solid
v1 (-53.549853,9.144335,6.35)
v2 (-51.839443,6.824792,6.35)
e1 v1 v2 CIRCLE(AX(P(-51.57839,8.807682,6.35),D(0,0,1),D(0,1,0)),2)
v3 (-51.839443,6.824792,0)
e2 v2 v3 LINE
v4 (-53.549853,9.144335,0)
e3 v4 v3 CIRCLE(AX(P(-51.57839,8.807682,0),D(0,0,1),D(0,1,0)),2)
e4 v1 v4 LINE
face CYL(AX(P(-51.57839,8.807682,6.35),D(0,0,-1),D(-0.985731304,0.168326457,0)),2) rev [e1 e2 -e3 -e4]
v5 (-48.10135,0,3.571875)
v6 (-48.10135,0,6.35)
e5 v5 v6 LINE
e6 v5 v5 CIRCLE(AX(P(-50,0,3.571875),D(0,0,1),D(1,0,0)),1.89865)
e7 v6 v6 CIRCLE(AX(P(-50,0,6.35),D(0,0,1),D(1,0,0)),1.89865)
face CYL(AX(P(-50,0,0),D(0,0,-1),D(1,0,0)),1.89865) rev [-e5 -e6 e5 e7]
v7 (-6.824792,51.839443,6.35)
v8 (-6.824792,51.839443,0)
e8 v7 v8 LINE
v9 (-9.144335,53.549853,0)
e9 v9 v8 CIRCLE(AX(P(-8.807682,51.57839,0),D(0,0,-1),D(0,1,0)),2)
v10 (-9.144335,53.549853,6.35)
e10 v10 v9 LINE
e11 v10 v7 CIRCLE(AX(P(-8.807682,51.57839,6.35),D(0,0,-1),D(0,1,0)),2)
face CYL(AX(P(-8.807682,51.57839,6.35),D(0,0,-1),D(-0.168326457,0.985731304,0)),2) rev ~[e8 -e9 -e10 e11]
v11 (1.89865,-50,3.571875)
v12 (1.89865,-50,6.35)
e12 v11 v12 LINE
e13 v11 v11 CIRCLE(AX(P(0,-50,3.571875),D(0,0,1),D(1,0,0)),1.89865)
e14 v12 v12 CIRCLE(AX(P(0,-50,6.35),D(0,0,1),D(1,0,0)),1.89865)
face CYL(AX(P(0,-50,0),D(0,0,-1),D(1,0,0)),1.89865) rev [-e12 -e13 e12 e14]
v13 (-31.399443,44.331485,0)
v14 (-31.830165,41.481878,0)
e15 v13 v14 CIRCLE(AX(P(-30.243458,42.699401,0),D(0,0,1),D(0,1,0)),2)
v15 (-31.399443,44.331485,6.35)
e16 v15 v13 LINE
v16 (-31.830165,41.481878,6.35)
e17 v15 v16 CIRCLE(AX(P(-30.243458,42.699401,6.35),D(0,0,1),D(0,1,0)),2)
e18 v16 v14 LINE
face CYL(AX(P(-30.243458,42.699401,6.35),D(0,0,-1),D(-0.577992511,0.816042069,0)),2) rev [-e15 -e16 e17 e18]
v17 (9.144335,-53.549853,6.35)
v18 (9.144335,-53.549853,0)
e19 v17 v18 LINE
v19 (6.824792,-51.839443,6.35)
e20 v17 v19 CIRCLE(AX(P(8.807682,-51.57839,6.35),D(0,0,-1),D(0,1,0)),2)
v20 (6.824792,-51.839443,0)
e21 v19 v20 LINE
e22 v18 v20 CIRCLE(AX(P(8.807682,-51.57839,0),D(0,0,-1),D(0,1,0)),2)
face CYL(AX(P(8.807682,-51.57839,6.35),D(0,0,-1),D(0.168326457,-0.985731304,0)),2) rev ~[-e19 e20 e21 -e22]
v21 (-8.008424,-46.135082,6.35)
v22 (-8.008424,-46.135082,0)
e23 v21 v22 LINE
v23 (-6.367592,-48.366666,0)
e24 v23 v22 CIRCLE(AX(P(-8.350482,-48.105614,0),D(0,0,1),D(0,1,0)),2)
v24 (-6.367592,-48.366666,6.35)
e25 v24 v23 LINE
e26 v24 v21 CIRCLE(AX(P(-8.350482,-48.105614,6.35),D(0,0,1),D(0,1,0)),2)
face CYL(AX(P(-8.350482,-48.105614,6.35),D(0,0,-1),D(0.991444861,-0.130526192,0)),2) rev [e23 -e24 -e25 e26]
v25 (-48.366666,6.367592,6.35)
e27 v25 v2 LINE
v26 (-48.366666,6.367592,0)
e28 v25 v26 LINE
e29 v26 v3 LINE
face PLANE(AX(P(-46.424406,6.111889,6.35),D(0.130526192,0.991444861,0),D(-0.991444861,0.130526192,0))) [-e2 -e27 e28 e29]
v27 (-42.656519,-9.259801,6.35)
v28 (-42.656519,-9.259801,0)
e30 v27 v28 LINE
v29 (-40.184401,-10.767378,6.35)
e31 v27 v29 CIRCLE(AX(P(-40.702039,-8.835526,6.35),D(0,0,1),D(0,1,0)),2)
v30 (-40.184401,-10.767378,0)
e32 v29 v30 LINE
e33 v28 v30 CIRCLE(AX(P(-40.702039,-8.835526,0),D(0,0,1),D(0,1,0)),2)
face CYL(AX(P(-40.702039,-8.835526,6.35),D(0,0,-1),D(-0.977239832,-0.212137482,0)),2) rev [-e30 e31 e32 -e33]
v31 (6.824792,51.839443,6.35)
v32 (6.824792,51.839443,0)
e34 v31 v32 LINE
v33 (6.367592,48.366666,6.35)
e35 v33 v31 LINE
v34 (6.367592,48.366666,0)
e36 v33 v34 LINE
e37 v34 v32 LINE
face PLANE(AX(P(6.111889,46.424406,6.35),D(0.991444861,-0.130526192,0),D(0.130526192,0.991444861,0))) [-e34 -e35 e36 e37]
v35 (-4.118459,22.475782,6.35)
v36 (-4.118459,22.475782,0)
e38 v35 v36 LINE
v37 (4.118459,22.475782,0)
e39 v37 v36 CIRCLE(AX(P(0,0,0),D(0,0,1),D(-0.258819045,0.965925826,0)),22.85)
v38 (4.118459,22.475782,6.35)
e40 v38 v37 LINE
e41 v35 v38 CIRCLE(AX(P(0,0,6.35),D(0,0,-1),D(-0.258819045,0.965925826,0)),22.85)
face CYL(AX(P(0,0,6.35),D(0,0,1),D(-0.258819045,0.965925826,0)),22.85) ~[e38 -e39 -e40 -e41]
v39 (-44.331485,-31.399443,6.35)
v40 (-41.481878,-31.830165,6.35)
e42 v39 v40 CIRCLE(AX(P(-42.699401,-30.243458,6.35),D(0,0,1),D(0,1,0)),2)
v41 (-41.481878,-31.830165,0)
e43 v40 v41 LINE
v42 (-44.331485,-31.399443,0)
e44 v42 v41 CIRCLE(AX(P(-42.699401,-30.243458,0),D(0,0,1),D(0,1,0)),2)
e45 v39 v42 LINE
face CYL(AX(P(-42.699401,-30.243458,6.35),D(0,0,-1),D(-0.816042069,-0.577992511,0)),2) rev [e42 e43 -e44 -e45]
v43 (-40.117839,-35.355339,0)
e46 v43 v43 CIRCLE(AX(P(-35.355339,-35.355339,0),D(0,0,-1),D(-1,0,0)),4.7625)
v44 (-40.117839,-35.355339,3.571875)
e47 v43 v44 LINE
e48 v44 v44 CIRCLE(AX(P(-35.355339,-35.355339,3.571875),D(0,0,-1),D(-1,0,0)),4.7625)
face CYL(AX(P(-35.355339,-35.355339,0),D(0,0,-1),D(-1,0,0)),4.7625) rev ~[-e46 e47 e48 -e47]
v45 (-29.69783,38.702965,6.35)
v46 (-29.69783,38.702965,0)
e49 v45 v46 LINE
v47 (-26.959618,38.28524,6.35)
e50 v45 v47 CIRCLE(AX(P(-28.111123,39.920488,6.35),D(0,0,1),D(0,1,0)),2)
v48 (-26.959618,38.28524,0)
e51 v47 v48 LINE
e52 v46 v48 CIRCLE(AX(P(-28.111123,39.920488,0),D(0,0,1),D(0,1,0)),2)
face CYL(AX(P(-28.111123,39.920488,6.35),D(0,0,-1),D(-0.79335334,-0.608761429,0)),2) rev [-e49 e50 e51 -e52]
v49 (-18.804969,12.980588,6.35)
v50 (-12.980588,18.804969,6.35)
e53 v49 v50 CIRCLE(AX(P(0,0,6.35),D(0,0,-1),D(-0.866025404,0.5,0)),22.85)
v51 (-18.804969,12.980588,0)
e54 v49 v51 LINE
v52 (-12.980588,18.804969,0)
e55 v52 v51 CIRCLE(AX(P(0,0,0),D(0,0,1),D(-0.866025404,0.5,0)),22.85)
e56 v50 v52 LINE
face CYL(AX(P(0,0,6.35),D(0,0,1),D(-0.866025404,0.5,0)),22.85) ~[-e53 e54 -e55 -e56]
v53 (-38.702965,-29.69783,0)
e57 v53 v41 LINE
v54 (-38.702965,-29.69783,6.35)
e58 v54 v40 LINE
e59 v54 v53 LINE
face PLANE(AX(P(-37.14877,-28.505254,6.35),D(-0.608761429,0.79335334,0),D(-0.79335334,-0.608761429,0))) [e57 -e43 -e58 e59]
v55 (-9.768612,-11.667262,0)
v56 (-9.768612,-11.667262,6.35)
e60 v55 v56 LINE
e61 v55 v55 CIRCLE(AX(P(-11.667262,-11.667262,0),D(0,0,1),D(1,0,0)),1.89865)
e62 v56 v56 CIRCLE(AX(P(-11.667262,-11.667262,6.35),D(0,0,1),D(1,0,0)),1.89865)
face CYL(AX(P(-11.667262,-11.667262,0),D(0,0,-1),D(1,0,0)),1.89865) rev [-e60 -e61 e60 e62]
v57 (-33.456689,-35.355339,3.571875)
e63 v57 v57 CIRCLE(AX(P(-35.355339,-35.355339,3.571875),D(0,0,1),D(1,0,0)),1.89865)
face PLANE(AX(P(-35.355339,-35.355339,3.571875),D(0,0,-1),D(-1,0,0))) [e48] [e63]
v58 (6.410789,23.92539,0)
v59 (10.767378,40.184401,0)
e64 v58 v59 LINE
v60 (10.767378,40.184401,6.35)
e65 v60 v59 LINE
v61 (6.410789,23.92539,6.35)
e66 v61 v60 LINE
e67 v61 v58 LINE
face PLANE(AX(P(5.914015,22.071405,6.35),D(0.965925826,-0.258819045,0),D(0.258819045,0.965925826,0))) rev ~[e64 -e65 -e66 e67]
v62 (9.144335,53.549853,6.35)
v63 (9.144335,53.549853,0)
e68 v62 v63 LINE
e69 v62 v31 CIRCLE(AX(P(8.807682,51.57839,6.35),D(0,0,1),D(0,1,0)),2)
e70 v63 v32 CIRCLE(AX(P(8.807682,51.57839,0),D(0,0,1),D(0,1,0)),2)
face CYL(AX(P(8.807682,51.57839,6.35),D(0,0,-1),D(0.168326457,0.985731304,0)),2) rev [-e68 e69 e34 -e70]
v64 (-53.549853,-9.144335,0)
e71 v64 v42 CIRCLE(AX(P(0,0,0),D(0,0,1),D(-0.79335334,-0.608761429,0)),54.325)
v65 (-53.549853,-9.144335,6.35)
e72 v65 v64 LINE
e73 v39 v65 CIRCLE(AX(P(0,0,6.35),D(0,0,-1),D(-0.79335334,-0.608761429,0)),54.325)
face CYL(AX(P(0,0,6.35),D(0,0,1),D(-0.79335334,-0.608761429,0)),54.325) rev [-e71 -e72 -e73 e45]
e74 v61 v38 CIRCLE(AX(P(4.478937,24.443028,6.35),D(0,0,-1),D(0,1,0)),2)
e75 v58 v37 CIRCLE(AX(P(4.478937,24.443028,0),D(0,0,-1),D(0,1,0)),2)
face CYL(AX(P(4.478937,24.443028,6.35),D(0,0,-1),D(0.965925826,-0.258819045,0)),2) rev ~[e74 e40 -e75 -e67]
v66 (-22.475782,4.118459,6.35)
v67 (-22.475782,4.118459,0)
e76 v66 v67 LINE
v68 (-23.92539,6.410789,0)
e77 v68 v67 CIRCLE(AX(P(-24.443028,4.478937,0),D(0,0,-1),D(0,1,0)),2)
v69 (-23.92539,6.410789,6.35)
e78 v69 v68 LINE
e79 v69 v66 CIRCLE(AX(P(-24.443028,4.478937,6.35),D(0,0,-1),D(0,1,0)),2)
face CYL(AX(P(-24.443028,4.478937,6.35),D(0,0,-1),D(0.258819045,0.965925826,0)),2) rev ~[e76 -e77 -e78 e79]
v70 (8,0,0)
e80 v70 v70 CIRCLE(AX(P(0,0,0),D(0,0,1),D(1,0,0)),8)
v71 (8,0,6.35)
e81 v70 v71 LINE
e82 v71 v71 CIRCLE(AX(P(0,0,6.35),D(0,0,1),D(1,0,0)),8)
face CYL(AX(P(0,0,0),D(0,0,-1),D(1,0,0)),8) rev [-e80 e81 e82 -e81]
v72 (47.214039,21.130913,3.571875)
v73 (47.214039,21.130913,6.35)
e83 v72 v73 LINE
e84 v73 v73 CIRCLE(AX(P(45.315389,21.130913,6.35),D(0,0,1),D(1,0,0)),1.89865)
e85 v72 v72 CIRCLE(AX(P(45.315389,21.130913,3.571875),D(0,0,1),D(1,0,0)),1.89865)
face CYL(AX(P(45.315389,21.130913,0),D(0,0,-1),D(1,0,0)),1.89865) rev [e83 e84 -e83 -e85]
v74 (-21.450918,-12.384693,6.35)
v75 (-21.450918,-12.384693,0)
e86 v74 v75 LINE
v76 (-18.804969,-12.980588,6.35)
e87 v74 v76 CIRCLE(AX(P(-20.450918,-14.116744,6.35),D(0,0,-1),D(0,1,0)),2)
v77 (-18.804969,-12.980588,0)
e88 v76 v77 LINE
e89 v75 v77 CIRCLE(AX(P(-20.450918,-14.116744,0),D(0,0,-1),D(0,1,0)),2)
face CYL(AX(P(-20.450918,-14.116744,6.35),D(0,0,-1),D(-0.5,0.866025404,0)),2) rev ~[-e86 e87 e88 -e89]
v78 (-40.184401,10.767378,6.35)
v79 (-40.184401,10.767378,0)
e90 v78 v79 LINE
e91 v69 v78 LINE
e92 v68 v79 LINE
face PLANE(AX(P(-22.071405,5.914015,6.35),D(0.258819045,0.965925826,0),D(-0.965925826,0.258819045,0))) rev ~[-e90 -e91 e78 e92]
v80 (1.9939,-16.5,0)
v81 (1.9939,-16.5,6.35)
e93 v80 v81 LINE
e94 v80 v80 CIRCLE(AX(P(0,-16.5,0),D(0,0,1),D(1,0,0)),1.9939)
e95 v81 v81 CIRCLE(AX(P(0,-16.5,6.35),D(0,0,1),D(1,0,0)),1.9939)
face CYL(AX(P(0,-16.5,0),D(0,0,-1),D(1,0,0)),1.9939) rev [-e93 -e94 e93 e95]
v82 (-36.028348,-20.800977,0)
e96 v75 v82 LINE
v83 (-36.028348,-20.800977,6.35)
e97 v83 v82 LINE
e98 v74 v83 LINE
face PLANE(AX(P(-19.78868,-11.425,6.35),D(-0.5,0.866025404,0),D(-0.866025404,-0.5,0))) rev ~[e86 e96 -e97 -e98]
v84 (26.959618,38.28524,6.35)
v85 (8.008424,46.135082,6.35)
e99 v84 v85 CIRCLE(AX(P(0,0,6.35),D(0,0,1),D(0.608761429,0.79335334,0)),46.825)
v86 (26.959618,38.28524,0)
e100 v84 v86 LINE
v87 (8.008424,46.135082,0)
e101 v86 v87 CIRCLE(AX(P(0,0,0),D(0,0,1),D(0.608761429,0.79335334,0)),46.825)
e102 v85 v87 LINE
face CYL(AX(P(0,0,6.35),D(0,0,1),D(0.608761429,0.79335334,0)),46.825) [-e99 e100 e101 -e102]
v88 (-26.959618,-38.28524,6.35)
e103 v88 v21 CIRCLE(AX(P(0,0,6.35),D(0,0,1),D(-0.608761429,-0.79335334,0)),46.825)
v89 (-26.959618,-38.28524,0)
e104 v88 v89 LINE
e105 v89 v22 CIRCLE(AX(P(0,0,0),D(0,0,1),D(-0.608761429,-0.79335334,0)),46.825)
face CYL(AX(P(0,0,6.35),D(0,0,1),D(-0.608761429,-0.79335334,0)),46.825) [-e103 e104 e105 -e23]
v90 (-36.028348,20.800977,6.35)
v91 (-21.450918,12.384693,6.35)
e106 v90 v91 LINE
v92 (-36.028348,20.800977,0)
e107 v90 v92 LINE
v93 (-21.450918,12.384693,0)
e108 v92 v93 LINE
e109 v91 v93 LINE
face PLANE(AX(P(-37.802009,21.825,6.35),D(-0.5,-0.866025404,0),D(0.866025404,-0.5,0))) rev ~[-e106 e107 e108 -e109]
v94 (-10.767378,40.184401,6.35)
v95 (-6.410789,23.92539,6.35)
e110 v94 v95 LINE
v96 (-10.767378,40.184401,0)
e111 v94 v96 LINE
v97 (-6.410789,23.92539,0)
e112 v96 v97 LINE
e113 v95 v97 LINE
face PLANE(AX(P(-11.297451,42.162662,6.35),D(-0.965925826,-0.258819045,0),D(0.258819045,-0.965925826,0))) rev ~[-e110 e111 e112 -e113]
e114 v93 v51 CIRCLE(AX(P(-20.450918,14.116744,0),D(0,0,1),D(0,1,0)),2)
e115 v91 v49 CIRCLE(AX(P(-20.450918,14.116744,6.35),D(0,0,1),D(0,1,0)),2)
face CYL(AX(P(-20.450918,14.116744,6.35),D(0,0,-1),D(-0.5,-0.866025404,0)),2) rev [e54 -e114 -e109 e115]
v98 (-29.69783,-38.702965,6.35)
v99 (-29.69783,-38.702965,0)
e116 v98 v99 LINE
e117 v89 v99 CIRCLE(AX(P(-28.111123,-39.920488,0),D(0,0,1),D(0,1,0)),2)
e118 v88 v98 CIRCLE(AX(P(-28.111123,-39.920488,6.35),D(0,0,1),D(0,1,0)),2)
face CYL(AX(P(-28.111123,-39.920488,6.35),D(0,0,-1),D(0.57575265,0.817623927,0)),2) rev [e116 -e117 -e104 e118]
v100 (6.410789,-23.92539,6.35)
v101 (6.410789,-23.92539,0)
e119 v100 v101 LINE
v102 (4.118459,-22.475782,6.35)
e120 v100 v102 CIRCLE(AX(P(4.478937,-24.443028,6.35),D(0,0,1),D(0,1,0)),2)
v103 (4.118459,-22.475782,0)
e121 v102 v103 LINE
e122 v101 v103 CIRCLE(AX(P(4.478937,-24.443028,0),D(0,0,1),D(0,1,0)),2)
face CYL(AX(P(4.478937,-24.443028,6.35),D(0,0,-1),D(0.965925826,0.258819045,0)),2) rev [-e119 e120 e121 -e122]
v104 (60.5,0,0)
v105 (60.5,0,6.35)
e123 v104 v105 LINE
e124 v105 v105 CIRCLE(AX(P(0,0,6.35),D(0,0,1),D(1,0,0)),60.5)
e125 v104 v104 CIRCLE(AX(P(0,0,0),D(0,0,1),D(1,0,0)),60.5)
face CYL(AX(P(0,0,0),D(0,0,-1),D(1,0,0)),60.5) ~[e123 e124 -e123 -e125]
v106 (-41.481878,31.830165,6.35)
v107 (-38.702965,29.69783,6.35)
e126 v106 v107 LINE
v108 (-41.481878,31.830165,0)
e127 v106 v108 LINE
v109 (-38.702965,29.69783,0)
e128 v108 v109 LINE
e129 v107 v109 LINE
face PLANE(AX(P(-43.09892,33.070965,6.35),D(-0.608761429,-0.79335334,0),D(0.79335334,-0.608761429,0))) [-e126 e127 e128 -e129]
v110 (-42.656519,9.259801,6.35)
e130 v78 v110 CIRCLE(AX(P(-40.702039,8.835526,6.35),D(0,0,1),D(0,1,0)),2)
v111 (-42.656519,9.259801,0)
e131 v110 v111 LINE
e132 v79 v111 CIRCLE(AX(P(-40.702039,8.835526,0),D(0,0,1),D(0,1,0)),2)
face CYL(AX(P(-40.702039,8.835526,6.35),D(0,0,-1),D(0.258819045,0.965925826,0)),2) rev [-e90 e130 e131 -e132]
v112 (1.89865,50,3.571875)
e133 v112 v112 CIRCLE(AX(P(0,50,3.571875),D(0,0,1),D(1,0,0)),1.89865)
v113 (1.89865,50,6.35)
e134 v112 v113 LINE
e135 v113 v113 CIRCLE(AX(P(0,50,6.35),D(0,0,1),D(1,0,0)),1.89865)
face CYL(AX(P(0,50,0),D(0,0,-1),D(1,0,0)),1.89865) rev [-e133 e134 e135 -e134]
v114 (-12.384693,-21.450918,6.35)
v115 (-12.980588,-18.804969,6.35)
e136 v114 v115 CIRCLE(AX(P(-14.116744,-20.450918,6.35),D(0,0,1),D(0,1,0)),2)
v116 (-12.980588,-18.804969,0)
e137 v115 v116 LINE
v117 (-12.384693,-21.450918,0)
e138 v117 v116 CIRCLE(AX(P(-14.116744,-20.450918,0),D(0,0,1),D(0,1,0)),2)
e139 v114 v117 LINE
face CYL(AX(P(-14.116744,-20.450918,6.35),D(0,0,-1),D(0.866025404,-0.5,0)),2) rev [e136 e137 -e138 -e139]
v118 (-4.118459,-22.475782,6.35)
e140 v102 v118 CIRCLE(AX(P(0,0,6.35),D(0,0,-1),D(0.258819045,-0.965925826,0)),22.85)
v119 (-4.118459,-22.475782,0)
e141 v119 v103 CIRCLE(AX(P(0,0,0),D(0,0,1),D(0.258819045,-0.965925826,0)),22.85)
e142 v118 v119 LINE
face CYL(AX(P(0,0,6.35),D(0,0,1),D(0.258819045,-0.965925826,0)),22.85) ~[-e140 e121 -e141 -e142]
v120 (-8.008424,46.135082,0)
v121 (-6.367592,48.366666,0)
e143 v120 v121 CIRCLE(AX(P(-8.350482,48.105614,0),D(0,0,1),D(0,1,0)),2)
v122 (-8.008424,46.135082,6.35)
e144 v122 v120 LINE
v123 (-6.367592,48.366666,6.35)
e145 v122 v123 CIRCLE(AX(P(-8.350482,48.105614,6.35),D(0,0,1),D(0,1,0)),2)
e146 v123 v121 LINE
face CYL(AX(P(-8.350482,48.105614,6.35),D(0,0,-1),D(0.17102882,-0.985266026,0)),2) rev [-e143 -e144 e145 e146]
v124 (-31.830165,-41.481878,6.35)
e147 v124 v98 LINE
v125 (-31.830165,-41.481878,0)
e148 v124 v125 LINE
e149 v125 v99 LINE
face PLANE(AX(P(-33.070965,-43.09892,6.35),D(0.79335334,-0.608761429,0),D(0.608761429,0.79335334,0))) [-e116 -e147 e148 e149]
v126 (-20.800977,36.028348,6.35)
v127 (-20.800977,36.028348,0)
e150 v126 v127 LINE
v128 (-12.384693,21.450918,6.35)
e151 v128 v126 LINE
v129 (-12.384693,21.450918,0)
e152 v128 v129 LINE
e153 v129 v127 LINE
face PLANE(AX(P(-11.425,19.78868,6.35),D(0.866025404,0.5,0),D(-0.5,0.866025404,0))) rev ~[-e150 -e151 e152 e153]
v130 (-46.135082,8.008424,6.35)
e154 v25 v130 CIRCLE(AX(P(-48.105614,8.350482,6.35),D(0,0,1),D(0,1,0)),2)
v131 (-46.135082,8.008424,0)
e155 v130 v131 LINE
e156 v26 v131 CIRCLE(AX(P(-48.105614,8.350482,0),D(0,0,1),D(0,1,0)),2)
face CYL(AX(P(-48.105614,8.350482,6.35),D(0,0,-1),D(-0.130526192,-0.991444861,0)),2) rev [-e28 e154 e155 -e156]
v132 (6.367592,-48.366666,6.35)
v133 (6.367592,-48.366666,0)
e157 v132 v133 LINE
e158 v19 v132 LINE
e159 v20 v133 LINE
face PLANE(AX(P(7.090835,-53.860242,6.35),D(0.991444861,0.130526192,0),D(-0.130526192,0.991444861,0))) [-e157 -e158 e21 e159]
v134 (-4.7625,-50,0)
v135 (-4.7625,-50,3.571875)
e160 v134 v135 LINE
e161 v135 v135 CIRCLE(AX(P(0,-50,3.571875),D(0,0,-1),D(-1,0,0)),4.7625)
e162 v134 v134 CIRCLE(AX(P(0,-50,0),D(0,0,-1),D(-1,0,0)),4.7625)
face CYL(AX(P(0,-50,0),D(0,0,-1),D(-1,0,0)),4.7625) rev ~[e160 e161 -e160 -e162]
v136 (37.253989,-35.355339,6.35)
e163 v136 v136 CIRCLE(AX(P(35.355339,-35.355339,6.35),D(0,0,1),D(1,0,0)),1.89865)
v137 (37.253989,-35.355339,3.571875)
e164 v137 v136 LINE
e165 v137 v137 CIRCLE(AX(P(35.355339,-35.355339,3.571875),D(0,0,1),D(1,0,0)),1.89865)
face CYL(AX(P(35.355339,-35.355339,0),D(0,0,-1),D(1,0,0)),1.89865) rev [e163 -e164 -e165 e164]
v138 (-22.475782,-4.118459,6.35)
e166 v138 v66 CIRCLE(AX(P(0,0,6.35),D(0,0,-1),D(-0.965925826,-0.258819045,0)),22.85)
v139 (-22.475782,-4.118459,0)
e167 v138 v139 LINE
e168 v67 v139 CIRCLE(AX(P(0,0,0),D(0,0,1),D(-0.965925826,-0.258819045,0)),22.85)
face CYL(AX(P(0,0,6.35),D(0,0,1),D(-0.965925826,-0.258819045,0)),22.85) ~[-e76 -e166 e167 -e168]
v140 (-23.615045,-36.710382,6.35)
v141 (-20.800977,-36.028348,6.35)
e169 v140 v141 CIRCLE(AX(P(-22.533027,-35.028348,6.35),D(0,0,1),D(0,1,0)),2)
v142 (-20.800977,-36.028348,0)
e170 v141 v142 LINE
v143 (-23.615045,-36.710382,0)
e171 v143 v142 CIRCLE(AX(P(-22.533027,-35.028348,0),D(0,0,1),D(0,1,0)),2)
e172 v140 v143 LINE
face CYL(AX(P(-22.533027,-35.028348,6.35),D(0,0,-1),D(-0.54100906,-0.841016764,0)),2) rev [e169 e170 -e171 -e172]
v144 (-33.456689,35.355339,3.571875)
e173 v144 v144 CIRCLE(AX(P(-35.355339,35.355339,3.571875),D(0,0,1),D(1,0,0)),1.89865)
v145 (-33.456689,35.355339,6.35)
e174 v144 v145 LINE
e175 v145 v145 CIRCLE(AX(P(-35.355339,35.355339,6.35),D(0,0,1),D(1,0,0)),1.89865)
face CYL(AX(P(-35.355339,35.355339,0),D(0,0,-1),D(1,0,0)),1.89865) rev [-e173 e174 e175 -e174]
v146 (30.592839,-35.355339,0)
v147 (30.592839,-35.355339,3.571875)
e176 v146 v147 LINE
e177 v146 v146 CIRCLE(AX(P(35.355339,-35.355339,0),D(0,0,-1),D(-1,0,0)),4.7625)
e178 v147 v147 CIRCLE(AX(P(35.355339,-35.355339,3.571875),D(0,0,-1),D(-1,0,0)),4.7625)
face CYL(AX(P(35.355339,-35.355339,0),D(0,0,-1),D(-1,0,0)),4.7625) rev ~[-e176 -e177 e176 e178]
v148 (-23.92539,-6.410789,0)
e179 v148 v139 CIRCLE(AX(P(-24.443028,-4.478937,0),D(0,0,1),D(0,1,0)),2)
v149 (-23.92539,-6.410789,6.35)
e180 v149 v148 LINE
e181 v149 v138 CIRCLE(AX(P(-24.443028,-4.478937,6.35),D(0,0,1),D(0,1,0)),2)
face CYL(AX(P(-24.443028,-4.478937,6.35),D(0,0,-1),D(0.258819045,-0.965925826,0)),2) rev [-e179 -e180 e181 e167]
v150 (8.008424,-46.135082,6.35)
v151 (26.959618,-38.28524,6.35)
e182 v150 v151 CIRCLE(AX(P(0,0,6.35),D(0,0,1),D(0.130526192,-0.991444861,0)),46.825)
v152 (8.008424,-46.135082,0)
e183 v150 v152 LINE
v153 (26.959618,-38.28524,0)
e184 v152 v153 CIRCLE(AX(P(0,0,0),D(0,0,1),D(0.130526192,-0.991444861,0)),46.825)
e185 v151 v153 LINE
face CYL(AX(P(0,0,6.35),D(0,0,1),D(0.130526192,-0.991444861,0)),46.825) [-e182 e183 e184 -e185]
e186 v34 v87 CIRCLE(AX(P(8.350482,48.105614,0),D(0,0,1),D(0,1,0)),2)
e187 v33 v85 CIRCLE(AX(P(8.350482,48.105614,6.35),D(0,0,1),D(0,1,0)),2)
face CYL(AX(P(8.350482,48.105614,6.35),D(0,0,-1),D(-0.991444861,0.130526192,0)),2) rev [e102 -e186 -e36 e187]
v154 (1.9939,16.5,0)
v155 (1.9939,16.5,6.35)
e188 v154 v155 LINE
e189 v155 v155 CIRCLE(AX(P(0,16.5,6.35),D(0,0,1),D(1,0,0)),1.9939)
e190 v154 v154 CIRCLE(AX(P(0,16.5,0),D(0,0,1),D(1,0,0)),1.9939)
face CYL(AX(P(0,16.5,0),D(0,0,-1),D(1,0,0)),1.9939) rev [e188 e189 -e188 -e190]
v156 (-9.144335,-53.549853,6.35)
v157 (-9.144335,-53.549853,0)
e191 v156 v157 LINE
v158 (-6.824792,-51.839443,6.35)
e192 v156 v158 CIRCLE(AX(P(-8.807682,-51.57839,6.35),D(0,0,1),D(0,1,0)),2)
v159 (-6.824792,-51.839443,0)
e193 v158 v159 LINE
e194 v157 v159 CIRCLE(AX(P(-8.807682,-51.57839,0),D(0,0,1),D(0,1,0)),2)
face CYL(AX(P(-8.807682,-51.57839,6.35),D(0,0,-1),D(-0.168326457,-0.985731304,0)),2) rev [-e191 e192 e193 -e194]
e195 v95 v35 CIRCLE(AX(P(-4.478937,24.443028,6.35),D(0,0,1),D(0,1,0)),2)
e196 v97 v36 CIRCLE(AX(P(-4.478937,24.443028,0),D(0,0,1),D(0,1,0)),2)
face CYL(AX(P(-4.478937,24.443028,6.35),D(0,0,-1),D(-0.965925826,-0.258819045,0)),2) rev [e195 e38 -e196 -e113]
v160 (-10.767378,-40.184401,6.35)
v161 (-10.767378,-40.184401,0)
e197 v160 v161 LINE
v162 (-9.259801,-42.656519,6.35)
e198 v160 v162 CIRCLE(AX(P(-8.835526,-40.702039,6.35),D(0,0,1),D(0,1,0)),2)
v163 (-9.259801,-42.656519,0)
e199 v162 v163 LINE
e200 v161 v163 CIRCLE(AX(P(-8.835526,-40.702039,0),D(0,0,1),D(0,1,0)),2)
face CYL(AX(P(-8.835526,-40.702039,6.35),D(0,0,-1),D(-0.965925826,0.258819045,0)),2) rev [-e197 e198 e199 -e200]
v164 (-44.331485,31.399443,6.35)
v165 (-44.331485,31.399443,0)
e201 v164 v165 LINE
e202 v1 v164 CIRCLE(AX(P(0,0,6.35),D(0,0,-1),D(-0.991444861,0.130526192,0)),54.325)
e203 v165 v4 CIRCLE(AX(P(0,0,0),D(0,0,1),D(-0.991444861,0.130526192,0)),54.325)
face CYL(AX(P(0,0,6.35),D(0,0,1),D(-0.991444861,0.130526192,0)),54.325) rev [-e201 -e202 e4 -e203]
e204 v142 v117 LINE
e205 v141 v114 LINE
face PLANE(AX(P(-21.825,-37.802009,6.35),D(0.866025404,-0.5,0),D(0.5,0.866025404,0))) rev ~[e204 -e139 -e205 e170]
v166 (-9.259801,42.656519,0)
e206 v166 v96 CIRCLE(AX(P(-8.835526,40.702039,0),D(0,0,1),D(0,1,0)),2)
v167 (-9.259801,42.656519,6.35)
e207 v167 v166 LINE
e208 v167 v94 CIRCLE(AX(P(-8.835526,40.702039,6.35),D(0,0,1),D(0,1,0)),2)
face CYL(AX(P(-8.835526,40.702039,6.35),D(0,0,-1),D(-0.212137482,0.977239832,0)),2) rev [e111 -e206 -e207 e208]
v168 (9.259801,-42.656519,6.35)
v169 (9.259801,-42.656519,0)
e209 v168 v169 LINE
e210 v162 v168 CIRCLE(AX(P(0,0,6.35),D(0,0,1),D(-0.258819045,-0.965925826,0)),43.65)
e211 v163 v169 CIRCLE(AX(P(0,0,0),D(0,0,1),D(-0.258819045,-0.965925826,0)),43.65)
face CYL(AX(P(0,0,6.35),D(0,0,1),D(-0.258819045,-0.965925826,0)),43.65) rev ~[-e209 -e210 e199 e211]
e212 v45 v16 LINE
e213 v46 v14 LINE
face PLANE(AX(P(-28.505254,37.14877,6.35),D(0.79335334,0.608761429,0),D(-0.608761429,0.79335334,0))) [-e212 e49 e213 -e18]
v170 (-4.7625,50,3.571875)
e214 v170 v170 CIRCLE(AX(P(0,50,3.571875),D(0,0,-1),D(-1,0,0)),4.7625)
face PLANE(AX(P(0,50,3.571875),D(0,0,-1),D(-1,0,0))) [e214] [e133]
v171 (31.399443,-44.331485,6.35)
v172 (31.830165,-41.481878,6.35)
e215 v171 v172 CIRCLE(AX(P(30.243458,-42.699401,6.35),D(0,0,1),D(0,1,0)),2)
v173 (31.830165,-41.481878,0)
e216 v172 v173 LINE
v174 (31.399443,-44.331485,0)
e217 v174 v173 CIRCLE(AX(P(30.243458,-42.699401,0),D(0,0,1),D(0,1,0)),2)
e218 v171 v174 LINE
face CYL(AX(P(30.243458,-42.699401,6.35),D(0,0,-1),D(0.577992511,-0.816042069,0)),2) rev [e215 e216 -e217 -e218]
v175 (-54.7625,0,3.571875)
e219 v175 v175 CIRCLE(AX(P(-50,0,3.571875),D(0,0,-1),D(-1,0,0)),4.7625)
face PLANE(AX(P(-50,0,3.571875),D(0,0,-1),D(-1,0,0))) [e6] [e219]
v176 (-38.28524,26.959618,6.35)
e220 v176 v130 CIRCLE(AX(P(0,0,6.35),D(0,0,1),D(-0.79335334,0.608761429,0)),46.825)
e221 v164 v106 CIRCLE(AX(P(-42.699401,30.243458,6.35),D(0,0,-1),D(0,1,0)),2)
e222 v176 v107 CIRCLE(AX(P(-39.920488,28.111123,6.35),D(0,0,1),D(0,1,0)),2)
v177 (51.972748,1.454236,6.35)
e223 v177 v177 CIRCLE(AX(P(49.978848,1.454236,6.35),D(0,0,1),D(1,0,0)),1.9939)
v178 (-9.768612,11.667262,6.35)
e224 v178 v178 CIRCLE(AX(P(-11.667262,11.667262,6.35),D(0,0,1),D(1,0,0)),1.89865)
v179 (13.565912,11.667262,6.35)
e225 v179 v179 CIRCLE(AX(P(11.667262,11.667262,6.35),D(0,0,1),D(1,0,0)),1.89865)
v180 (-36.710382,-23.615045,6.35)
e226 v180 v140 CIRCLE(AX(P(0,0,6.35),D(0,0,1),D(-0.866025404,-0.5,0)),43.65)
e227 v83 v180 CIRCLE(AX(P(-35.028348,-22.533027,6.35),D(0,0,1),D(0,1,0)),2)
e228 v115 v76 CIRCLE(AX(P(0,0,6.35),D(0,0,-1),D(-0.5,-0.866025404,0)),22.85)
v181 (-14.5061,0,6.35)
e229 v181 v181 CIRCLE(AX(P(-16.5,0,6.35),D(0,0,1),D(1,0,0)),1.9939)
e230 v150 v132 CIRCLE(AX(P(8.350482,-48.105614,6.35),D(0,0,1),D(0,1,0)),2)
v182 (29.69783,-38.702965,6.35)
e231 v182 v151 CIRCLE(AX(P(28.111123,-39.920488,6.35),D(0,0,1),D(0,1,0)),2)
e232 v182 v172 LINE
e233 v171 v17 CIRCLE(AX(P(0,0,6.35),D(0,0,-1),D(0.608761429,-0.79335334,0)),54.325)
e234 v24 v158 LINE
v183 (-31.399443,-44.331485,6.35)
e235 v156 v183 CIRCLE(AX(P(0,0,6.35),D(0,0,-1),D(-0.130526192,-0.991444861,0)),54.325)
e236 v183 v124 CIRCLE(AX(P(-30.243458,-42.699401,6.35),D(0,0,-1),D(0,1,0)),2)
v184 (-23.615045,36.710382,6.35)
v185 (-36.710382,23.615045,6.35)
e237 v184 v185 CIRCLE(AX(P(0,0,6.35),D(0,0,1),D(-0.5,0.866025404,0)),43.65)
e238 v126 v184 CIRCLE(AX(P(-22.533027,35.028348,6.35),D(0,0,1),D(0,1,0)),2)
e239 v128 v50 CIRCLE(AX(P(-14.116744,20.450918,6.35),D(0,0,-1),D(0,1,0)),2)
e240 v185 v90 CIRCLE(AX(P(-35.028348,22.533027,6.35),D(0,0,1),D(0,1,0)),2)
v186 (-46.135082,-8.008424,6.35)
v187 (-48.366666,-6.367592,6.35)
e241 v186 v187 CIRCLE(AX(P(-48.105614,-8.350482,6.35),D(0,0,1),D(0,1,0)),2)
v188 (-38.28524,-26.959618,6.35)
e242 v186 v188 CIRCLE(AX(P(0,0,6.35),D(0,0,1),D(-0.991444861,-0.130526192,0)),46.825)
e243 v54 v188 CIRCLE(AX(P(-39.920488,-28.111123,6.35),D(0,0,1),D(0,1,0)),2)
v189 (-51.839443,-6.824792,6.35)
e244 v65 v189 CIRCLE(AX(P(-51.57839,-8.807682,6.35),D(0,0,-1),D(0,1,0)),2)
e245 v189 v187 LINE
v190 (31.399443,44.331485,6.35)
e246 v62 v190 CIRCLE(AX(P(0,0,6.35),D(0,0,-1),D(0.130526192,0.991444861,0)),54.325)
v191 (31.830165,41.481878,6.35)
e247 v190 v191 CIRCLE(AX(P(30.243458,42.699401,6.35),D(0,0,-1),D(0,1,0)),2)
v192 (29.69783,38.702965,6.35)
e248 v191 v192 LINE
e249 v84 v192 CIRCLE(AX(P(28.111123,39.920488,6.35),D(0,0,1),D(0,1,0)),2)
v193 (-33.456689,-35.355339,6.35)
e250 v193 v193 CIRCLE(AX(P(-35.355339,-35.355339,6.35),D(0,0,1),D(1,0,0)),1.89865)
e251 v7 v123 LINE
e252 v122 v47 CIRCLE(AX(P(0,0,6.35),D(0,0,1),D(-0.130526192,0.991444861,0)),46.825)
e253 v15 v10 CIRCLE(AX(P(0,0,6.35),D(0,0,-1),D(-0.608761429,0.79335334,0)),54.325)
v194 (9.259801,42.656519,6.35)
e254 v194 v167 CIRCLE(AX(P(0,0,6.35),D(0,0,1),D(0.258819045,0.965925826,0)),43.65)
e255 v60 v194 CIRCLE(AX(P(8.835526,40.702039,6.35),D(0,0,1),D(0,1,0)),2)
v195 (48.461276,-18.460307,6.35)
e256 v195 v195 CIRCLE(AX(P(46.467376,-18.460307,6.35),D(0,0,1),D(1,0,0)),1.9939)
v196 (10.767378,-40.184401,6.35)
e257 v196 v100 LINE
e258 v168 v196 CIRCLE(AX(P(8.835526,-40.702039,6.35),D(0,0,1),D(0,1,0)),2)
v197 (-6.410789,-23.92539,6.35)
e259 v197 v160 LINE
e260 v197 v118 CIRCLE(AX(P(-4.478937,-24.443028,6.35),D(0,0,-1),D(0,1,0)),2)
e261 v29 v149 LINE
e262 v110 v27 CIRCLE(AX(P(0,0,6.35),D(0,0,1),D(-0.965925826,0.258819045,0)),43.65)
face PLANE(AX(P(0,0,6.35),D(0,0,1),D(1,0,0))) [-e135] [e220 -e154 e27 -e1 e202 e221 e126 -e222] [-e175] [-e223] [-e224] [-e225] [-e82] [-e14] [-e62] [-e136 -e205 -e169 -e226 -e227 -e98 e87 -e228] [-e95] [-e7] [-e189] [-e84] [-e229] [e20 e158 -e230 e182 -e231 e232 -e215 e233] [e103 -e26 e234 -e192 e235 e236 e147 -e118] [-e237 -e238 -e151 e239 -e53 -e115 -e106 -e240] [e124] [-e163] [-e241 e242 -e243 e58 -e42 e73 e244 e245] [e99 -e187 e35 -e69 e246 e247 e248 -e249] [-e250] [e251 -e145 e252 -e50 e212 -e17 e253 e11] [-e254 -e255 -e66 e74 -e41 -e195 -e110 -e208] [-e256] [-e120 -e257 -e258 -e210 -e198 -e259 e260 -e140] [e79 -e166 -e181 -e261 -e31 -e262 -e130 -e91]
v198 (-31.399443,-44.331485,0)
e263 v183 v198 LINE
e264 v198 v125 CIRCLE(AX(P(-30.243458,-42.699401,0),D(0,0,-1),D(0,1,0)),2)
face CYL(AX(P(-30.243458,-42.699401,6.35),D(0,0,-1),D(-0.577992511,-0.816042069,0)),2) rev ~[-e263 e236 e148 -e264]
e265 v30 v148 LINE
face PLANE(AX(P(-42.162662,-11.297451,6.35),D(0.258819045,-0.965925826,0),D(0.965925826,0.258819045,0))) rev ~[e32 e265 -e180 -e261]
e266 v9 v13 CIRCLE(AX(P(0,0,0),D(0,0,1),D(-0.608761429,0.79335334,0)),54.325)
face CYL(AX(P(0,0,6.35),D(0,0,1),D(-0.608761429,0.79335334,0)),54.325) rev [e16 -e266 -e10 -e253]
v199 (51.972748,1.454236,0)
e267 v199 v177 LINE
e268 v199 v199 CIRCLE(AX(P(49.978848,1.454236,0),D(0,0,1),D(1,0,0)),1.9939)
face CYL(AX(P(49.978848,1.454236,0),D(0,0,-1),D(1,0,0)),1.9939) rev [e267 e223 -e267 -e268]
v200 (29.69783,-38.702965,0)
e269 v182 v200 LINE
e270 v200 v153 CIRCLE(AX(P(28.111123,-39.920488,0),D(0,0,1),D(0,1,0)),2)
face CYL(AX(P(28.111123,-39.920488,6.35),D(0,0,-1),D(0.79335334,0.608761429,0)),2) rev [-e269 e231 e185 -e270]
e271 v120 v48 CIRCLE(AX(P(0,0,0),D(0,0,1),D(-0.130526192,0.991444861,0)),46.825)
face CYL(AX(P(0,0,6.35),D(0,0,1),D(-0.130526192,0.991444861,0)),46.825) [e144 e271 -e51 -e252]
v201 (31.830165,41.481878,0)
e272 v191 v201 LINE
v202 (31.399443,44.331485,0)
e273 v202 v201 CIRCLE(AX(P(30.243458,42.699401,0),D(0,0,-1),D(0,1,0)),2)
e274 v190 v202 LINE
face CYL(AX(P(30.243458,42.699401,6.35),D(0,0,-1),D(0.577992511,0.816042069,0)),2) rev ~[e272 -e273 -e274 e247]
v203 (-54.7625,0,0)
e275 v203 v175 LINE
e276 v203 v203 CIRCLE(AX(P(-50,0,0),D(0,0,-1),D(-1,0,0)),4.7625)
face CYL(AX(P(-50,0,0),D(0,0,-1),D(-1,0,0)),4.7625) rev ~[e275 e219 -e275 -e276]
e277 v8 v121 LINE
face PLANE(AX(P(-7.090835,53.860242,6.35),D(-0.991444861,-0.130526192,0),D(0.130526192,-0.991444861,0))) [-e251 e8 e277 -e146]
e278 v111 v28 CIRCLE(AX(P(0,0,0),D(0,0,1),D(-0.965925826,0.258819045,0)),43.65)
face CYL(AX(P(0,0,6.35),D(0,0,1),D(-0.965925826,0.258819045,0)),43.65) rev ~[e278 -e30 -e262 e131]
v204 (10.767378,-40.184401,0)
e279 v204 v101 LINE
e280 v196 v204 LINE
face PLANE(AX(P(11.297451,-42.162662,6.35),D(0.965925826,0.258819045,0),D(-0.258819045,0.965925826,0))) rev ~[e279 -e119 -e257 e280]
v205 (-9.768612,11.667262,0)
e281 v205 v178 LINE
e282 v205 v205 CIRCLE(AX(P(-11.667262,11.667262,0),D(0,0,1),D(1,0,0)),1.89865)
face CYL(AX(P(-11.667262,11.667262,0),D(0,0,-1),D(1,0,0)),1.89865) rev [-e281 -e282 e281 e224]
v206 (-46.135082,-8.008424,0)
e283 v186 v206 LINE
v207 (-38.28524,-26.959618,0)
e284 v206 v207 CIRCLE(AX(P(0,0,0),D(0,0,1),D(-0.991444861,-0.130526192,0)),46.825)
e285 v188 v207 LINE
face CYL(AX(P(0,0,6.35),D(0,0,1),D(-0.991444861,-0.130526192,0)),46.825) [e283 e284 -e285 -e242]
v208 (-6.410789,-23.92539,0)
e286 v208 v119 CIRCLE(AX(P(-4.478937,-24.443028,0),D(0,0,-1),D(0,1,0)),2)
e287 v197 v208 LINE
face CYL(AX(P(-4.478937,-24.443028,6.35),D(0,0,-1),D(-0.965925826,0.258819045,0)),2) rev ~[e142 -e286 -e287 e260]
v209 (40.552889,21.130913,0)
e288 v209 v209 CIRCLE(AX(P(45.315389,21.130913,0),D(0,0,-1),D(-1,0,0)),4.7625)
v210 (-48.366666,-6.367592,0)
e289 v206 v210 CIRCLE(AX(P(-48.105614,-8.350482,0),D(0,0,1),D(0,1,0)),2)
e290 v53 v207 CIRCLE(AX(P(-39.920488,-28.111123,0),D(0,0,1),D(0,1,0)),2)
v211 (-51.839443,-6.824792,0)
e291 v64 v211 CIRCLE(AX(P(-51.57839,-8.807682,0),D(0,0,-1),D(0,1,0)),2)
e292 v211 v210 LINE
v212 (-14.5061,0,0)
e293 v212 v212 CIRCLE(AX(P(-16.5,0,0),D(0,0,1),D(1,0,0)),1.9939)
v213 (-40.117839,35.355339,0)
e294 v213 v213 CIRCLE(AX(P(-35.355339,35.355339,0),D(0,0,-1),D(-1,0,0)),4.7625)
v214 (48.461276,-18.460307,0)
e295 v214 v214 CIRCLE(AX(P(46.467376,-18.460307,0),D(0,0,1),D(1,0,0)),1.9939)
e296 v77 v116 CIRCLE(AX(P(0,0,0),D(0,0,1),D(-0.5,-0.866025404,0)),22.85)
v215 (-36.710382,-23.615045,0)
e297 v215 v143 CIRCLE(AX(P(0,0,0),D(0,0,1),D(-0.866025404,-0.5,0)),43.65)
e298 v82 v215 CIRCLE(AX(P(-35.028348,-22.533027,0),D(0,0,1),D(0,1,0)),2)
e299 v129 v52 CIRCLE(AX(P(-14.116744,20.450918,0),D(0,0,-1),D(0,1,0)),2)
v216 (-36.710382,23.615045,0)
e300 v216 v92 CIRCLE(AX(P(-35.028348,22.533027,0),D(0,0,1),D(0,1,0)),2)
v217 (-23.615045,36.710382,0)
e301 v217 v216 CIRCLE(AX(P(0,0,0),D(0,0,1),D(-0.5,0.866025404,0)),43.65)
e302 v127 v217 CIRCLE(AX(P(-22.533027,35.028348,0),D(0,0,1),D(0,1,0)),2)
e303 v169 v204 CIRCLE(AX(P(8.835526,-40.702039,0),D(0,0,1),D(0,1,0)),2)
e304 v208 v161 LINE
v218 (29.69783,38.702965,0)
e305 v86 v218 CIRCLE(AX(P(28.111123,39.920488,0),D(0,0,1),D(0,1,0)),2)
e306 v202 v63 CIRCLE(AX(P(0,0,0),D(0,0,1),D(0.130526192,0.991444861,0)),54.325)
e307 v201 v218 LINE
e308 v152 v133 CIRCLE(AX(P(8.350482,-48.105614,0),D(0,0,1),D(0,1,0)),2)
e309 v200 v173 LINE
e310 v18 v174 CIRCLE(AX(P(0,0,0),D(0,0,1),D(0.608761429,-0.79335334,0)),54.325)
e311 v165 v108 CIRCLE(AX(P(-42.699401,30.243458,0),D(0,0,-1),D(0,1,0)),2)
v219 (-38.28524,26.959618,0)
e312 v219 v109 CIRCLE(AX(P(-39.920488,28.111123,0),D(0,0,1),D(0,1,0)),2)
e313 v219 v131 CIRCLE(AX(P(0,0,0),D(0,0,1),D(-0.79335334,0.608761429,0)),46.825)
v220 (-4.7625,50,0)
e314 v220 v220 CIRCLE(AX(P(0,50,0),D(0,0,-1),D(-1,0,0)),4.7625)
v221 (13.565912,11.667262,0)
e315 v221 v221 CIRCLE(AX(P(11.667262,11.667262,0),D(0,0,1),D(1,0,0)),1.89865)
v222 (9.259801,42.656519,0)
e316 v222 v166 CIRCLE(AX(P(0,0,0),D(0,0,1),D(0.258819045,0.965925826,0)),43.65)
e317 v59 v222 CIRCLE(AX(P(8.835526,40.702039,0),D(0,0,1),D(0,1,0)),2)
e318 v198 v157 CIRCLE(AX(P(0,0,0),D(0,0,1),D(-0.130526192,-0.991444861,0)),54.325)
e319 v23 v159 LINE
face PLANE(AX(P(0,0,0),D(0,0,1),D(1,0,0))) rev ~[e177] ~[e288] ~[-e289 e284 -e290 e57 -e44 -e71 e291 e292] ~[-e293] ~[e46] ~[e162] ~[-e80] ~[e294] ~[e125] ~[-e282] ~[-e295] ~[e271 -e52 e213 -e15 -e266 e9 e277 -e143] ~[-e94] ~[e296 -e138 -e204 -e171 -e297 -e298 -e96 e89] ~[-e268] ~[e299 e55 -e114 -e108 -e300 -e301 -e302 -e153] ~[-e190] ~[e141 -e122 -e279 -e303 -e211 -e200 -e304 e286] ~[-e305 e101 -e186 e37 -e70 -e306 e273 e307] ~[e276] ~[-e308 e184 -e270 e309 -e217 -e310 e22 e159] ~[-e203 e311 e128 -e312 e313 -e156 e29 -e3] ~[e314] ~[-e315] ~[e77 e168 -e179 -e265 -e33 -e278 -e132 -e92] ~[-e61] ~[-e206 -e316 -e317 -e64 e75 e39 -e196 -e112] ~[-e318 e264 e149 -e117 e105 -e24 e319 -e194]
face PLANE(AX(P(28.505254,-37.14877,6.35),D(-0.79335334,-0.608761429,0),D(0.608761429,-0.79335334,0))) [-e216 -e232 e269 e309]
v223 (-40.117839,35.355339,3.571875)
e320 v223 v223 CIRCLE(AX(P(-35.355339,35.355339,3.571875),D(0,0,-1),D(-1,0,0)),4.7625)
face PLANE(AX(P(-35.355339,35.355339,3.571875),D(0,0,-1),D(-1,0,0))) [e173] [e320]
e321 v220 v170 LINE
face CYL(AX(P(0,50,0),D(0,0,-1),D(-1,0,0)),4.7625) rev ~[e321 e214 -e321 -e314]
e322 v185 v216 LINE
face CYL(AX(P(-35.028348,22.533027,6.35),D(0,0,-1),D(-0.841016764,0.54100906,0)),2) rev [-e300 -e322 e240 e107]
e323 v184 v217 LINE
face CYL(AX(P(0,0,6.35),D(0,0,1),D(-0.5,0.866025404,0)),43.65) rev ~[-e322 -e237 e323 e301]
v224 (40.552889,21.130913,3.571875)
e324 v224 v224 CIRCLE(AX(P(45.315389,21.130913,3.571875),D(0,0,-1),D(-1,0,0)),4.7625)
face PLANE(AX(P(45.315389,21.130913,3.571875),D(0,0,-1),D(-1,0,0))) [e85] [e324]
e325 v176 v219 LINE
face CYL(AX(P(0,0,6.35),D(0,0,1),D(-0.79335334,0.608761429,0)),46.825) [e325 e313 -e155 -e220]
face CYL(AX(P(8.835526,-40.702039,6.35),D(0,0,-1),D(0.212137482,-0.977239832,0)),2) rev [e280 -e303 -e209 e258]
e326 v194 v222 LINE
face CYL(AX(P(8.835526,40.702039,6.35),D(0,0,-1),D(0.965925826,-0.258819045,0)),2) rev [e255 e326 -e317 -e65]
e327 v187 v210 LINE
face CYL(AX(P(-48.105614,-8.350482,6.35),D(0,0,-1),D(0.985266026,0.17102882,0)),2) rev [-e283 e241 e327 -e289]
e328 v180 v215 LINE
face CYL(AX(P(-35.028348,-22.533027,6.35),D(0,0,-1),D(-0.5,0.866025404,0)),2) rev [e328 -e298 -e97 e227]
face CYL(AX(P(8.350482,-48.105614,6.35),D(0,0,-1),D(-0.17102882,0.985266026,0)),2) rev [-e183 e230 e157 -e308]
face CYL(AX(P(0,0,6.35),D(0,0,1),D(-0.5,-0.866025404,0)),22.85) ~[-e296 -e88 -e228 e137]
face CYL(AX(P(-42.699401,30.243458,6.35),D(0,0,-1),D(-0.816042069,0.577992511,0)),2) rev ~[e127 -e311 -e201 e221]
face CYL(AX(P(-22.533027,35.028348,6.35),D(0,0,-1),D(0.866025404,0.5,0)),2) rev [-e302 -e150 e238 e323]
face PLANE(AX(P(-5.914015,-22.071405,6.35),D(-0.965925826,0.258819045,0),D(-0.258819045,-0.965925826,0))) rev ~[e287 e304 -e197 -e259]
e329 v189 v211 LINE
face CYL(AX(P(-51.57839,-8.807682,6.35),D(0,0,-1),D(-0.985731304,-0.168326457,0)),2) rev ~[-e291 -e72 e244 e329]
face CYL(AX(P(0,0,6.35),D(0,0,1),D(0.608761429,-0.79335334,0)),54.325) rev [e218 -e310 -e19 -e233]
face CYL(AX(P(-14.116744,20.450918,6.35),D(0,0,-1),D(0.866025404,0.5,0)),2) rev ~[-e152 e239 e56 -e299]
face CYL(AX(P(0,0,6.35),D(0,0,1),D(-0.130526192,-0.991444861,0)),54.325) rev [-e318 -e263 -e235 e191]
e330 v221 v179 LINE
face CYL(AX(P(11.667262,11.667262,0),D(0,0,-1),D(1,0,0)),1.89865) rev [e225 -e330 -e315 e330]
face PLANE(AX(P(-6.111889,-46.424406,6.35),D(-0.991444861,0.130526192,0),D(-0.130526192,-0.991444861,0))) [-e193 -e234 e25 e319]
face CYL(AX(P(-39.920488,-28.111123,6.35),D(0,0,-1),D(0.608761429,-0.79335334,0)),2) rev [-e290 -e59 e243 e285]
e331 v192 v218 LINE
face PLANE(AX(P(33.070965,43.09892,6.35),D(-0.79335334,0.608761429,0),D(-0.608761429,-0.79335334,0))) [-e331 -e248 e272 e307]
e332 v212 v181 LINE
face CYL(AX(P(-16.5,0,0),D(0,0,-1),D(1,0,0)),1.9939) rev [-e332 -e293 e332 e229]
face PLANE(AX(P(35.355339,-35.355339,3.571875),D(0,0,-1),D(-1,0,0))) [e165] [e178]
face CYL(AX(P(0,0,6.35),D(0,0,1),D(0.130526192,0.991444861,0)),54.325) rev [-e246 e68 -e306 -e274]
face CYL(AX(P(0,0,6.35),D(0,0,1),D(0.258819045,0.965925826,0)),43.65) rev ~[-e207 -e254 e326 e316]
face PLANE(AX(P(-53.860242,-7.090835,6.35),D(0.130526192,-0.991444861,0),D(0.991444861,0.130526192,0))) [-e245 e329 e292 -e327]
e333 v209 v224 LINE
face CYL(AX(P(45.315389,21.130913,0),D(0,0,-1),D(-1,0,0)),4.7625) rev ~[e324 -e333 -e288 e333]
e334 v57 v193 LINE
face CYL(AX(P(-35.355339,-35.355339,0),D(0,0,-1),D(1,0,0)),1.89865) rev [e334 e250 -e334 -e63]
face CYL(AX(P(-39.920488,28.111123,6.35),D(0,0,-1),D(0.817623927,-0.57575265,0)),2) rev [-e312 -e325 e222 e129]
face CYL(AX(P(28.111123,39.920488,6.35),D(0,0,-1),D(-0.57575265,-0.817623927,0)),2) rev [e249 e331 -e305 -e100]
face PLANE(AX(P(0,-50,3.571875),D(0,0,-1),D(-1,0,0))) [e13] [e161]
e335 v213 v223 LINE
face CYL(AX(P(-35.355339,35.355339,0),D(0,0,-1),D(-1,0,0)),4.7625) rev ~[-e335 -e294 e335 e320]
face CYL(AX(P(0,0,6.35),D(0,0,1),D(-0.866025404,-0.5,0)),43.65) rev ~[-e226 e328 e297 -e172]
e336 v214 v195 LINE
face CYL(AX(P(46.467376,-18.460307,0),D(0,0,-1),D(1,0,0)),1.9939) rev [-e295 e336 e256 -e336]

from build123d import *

# Parameters (mm, degrees)
SKETCH1_R                = 60.5
SKETCH1_R_2              = 1.89865
SKETCH1_R_3              = 1.9939
SKETCH1_R_4              = 8
BOSS_EXTRUDE1_DEPTH      = 6.35
CUT_EXTRUDE1_DEPTH       = 7.35
FILLET1_R                = 2
CIRPATTERN1_COUNT        = 8
FILLET1_OF_CIRPATTERN1_R = 2
CUT_EXTRUDE2_DEPTH       = 7.35
FILLET2_R                = 2
CIRPATTERN3_COUNT        = 8
FILLET2_OF_CIRPATTERN3_R = 2
SKETCH4_R                = 4.7625
SKETCH4_R_2              = 1.89865
CUT_EXTRUDE3_DEPTH       = 3.571875


with BuildPart() as part:
    # Sketch1 → Boss-Extrude1 (new body)
    with BuildSketch(Plane.XY):
        Circle(SKETCH1_R)
        with Locations((45.315389352, 21.130913087)):
            Circle(SKETCH1_R_2, mode=Mode.SUBTRACT)
        with Locations((49.978847504, 1.454235937)):
            Circle(SKETCH1_R_3, mode=Mode.SUBTRACT)
        Circle(SKETCH1_R_4, mode=Mode.SUBTRACT)
        with Locations((46.467376211, -18.460307366)):
            Circle(SKETCH1_R_3, mode=Mode.SUBTRACT)
        with Locations((0, -16.5)):
            Circle(SKETCH1_R_3, mode=Mode.SUBTRACT)
        with Locations((0, -50)):
            Circle(SKETCH1_R_2, mode=Mode.SUBTRACT)
        with Locations((-16.5, 0)):
            Circle(SKETCH1_R_3, mode=Mode.SUBTRACT)
        with Locations((-11.66726189, -11.66726189)):
            Circle(SKETCH1_R_2, mode=Mode.SUBTRACT)
        with Locations((0, 16.5)):
            Circle(SKETCH1_R_3, mode=Mode.SUBTRACT)
        with Locations((-11.66726189, 11.66726189)):
            Circle(SKETCH1_R_2, mode=Mode.SUBTRACT)
        with Locations((11.66726189, 11.66726189)):
            Circle(SKETCH1_R_2, mode=Mode.SUBTRACT)
        with Locations((-35.355339059, -35.355339059)):
            Circle(SKETCH1_R_2, mode=Mode.SUBTRACT)
        with Locations((-50, 0)):
            Circle(SKETCH1_R_2, mode=Mode.SUBTRACT)
        with Locations((-35.355339059, 35.355339059)):
            Circle(SKETCH1_R_2, mode=Mode.SUBTRACT)
        with Locations((0, 50)):
            Circle(SKETCH1_R_2, mode=Mode.SUBTRACT)
        with Locations((35.355339059, -35.355339059)):
            Circle(SKETCH1_R_2, mode=Mode.SUBTRACT)
    extrude(amount=BOSS_EXTRUDE1_DEPTH)

    # Sketch2 → Cut-Extrude1 (cut, through all)
    with BuildSketch(Plane.XY.offset(6.35)):
        with BuildLine():
            Line((-22.071405131, 5.914015181), (-42.162662318, 11.297451319))
            ThreePointArc((-42.162662318, 11.297451319), (-43.65, 0), (-42.162662318, -11.297451319))
            Line((-42.162662318, -11.297451319), (-22.071405131, -5.914015181))
            ThreePointArc((-22.071405131, -5.914015181), (-22.85, 0), (-22.071405131, 5.914015181))
        make_face()
    cut_extrude1 = extrude(amount=-CUT_EXTRUDE1_DEPTH, mode=Mode.SUBTRACT)

    # Fillet1
    fillet1_edges = [part.edges().sort_by_distance(p)[0] for p in [
        (-42.162662318, -11.297451319, 3.175),
        (-42.162662318, 11.297451319, 3.175),
        (-22.071405131, 5.914015181, 3.175),
        (-22.071405131, -5.914015181, 3.175),
    ]]
    fillet(fillet1_edges, radius=FILLET1_R)

    # CirPattern1: Cut-Extrude1 ×8 about axis, 3 skipped
    cirpattern1_axis = Axis((0, 0, 0), (0, 0, -1))
    add([cut_extrude1.rotate(cirpattern1_axis, i * 360 / CIRPATTERN1_COUNT) for i in range(1, CIRPATTERN1_COUNT) if i not in (3, 4, 5)], mode=Mode.SUBTRACT)

    # Fillet1 of CirPattern1
    fillet1_of_cirpattern1_edges = [part.edges().sort_by_distance(p)[0] for p in [
        (-37.802008875, 21.825, 3.175),
        (-21.825, 37.802008875, 3.175),
        (-11.425, 19.788680476, 3.175),
        (-19.788680476, 11.425, 3.175),
        (-11.297451319, 42.162662318, 3.175),
        (11.297451319, 42.162662318, 3.175),
        (5.914015181, 22.071405131, 3.175),
        (-5.914015181, 22.071405131, 3.175),
        (11.297451319, -42.162662318, 3.175),
        (-11.297451319, -42.162662318, 3.175),
        (-5.914015181, -22.071405131, 3.175),
        (5.914015181, -22.071405131, 3.175),
        (-21.825, -37.802008875, 3.175),
        (-37.802008875, -21.825, 3.175),
        (-19.788680476, -11.425, 3.175),
        (-11.425, -19.788680476, 3.175),
    ]]
    fillet(fillet1_of_cirpattern1_edges, radius=FILLET1_OF_CIRPATTERN1_R)

    # Sketch3 → Cut-Extrude2 (cut, through all)
    with BuildSketch(Plane.XY.offset(6.35)):
        with BuildLine():
            Line((-43.098920211, 33.070964631), (-37.148770159, 28.505253913))
            ThreePointArc((-37.148770159, 28.505253913), (-43.26065911, 17.91915172), (-46.424405634, 6.111888951))
            Line((-46.424405634, 6.111888951), (-53.860242094, 7.090835392))
            ThreePointArc((-53.860242094, 7.090835392), (-50.189755604, 20.789277463), (-43.098920211, 33.070964631))
        make_face()
    cut_extrude2 = extrude(amount=-CUT_EXTRUDE2_DEPTH, mode=Mode.SUBTRACT)

    # Fillet2
    fillet2_edges = [part.edges().sort_by_distance(p)[0] for p in [
        (-53.860242094, 7.090835392, 3.175),
        (-43.098920211, 33.070964631, 3.175),
        (-37.148770159, 28.505253913, 3.175),
        (-46.424405634, 6.111888951, 3.175),
    ]]
    fillet(fillet2_edges, radius=FILLET2_R)

    # CirPattern3: Cut-Extrude2 ×8 about axis, 2 skipped
    cirpattern3_axis = Axis((0, 0, 0), (0, 0, -1))
    add([cut_extrude2.rotate(cirpattern3_axis, i * 360 / CIRPATTERN3_COUNT) for i in range(1, CIRPATTERN3_COUNT) if i not in (3, 4)], mode=Mode.SUBTRACT)

    # Fillet2 of CirPattern3
    fillet2_of_cirpattern3_edges = [part.edges().sort_by_distance(p)[0] for p in [
        (-33.070964631, 43.098920211, 3.175),
        (-7.090835392, 53.860242094, 3.175),
        (-6.111888951, 46.424405634, 3.175),
        (-28.505253913, 37.148770159, 3.175),
        (7.090835392, 53.860242094, 3.175),
        (33.070964631, 43.098920211, 3.175),
        (28.505253913, 37.148770159, 3.175),
        (6.111888951, 46.424405634, 3.175),
        (33.070964631, -43.098920211, 3.175),
        (7.090835392, -53.860242094, 3.175),
        (6.111888951, -46.424405634, 3.175),
        (28.505253913, -37.148770159, 3.175),
        (-7.090835392, -53.860242094, 3.175),
        (-33.070964631, -43.098920211, 3.175),
        (-28.505253913, -37.148770159, 3.175),
        (-6.111888951, -46.424405634, 3.175),
        (-43.098920211, -33.070964631, 3.175),
        (-53.860242094, -7.090835392, 3.175),
        (-46.424405634, -6.111888951, 3.175),
        (-37.148770159, -28.505253913, 3.175),
    ]]
    fillet(fillet2_of_cirpattern3_edges, radius=FILLET2_OF_CIRPATTERN3_R)

    # Sketch4 → Cut-Extrude3 (cut)
    with BuildSketch(Plane(origin=(0, 0, 0), x_dir=(-1, 0, 0), z_dir=(0, 0, -1))):
        with Locations((0, 50)):
            Circle(SKETCH4_R)
        with Locations((0, 50)):
            Circle(SKETCH4_R_2, mode=Mode.SUBTRACT)
        with Locations((35.355339059, 35.355339059)):
            Circle(SKETCH4_R)
        with Locations((35.355339059, 35.355339059)):
            Circle(SKETCH4_R_2, mode=Mode.SUBTRACT)
        with Locations((50, 0)):
            Circle(SKETCH4_R)
        with Locations((50, 0)):
            Circle(SKETCH4_R_2, mode=Mode.SUBTRACT)
        with Locations((35.355339059, -35.355339059)):
            Circle(SKETCH4_R)
        with Locations((35.355339059, -35.355339059)):
            Circle(SKETCH4_R_2, mode=Mode.SUBTRACT)
        with Locations((0, -50)):
            Circle(SKETCH4_R)
        with Locations((0, -50)):
            Circle(SKETCH4_R_2, mode=Mode.SUBTRACT)
        with Locations((-35.355339059, -35.355339059)):
            Circle(SKETCH4_R)
        with Locations((-35.355339059, -35.355339059)):
            Circle(SKETCH4_R_2, mode=Mode.SUBTRACT)
        with Locations((-45.315389352, 21.130913087)):
            Circle(SKETCH4_R)
        with Locations((-45.315389352, 21.130913087)):
            Circle(SKETCH4_R_2, mode=Mode.SUBTRACT)
    extrude(amount=-CUT_EXTRUDE3_DEPTH, mode=Mode.SUBTRACT)


solid = part.part
